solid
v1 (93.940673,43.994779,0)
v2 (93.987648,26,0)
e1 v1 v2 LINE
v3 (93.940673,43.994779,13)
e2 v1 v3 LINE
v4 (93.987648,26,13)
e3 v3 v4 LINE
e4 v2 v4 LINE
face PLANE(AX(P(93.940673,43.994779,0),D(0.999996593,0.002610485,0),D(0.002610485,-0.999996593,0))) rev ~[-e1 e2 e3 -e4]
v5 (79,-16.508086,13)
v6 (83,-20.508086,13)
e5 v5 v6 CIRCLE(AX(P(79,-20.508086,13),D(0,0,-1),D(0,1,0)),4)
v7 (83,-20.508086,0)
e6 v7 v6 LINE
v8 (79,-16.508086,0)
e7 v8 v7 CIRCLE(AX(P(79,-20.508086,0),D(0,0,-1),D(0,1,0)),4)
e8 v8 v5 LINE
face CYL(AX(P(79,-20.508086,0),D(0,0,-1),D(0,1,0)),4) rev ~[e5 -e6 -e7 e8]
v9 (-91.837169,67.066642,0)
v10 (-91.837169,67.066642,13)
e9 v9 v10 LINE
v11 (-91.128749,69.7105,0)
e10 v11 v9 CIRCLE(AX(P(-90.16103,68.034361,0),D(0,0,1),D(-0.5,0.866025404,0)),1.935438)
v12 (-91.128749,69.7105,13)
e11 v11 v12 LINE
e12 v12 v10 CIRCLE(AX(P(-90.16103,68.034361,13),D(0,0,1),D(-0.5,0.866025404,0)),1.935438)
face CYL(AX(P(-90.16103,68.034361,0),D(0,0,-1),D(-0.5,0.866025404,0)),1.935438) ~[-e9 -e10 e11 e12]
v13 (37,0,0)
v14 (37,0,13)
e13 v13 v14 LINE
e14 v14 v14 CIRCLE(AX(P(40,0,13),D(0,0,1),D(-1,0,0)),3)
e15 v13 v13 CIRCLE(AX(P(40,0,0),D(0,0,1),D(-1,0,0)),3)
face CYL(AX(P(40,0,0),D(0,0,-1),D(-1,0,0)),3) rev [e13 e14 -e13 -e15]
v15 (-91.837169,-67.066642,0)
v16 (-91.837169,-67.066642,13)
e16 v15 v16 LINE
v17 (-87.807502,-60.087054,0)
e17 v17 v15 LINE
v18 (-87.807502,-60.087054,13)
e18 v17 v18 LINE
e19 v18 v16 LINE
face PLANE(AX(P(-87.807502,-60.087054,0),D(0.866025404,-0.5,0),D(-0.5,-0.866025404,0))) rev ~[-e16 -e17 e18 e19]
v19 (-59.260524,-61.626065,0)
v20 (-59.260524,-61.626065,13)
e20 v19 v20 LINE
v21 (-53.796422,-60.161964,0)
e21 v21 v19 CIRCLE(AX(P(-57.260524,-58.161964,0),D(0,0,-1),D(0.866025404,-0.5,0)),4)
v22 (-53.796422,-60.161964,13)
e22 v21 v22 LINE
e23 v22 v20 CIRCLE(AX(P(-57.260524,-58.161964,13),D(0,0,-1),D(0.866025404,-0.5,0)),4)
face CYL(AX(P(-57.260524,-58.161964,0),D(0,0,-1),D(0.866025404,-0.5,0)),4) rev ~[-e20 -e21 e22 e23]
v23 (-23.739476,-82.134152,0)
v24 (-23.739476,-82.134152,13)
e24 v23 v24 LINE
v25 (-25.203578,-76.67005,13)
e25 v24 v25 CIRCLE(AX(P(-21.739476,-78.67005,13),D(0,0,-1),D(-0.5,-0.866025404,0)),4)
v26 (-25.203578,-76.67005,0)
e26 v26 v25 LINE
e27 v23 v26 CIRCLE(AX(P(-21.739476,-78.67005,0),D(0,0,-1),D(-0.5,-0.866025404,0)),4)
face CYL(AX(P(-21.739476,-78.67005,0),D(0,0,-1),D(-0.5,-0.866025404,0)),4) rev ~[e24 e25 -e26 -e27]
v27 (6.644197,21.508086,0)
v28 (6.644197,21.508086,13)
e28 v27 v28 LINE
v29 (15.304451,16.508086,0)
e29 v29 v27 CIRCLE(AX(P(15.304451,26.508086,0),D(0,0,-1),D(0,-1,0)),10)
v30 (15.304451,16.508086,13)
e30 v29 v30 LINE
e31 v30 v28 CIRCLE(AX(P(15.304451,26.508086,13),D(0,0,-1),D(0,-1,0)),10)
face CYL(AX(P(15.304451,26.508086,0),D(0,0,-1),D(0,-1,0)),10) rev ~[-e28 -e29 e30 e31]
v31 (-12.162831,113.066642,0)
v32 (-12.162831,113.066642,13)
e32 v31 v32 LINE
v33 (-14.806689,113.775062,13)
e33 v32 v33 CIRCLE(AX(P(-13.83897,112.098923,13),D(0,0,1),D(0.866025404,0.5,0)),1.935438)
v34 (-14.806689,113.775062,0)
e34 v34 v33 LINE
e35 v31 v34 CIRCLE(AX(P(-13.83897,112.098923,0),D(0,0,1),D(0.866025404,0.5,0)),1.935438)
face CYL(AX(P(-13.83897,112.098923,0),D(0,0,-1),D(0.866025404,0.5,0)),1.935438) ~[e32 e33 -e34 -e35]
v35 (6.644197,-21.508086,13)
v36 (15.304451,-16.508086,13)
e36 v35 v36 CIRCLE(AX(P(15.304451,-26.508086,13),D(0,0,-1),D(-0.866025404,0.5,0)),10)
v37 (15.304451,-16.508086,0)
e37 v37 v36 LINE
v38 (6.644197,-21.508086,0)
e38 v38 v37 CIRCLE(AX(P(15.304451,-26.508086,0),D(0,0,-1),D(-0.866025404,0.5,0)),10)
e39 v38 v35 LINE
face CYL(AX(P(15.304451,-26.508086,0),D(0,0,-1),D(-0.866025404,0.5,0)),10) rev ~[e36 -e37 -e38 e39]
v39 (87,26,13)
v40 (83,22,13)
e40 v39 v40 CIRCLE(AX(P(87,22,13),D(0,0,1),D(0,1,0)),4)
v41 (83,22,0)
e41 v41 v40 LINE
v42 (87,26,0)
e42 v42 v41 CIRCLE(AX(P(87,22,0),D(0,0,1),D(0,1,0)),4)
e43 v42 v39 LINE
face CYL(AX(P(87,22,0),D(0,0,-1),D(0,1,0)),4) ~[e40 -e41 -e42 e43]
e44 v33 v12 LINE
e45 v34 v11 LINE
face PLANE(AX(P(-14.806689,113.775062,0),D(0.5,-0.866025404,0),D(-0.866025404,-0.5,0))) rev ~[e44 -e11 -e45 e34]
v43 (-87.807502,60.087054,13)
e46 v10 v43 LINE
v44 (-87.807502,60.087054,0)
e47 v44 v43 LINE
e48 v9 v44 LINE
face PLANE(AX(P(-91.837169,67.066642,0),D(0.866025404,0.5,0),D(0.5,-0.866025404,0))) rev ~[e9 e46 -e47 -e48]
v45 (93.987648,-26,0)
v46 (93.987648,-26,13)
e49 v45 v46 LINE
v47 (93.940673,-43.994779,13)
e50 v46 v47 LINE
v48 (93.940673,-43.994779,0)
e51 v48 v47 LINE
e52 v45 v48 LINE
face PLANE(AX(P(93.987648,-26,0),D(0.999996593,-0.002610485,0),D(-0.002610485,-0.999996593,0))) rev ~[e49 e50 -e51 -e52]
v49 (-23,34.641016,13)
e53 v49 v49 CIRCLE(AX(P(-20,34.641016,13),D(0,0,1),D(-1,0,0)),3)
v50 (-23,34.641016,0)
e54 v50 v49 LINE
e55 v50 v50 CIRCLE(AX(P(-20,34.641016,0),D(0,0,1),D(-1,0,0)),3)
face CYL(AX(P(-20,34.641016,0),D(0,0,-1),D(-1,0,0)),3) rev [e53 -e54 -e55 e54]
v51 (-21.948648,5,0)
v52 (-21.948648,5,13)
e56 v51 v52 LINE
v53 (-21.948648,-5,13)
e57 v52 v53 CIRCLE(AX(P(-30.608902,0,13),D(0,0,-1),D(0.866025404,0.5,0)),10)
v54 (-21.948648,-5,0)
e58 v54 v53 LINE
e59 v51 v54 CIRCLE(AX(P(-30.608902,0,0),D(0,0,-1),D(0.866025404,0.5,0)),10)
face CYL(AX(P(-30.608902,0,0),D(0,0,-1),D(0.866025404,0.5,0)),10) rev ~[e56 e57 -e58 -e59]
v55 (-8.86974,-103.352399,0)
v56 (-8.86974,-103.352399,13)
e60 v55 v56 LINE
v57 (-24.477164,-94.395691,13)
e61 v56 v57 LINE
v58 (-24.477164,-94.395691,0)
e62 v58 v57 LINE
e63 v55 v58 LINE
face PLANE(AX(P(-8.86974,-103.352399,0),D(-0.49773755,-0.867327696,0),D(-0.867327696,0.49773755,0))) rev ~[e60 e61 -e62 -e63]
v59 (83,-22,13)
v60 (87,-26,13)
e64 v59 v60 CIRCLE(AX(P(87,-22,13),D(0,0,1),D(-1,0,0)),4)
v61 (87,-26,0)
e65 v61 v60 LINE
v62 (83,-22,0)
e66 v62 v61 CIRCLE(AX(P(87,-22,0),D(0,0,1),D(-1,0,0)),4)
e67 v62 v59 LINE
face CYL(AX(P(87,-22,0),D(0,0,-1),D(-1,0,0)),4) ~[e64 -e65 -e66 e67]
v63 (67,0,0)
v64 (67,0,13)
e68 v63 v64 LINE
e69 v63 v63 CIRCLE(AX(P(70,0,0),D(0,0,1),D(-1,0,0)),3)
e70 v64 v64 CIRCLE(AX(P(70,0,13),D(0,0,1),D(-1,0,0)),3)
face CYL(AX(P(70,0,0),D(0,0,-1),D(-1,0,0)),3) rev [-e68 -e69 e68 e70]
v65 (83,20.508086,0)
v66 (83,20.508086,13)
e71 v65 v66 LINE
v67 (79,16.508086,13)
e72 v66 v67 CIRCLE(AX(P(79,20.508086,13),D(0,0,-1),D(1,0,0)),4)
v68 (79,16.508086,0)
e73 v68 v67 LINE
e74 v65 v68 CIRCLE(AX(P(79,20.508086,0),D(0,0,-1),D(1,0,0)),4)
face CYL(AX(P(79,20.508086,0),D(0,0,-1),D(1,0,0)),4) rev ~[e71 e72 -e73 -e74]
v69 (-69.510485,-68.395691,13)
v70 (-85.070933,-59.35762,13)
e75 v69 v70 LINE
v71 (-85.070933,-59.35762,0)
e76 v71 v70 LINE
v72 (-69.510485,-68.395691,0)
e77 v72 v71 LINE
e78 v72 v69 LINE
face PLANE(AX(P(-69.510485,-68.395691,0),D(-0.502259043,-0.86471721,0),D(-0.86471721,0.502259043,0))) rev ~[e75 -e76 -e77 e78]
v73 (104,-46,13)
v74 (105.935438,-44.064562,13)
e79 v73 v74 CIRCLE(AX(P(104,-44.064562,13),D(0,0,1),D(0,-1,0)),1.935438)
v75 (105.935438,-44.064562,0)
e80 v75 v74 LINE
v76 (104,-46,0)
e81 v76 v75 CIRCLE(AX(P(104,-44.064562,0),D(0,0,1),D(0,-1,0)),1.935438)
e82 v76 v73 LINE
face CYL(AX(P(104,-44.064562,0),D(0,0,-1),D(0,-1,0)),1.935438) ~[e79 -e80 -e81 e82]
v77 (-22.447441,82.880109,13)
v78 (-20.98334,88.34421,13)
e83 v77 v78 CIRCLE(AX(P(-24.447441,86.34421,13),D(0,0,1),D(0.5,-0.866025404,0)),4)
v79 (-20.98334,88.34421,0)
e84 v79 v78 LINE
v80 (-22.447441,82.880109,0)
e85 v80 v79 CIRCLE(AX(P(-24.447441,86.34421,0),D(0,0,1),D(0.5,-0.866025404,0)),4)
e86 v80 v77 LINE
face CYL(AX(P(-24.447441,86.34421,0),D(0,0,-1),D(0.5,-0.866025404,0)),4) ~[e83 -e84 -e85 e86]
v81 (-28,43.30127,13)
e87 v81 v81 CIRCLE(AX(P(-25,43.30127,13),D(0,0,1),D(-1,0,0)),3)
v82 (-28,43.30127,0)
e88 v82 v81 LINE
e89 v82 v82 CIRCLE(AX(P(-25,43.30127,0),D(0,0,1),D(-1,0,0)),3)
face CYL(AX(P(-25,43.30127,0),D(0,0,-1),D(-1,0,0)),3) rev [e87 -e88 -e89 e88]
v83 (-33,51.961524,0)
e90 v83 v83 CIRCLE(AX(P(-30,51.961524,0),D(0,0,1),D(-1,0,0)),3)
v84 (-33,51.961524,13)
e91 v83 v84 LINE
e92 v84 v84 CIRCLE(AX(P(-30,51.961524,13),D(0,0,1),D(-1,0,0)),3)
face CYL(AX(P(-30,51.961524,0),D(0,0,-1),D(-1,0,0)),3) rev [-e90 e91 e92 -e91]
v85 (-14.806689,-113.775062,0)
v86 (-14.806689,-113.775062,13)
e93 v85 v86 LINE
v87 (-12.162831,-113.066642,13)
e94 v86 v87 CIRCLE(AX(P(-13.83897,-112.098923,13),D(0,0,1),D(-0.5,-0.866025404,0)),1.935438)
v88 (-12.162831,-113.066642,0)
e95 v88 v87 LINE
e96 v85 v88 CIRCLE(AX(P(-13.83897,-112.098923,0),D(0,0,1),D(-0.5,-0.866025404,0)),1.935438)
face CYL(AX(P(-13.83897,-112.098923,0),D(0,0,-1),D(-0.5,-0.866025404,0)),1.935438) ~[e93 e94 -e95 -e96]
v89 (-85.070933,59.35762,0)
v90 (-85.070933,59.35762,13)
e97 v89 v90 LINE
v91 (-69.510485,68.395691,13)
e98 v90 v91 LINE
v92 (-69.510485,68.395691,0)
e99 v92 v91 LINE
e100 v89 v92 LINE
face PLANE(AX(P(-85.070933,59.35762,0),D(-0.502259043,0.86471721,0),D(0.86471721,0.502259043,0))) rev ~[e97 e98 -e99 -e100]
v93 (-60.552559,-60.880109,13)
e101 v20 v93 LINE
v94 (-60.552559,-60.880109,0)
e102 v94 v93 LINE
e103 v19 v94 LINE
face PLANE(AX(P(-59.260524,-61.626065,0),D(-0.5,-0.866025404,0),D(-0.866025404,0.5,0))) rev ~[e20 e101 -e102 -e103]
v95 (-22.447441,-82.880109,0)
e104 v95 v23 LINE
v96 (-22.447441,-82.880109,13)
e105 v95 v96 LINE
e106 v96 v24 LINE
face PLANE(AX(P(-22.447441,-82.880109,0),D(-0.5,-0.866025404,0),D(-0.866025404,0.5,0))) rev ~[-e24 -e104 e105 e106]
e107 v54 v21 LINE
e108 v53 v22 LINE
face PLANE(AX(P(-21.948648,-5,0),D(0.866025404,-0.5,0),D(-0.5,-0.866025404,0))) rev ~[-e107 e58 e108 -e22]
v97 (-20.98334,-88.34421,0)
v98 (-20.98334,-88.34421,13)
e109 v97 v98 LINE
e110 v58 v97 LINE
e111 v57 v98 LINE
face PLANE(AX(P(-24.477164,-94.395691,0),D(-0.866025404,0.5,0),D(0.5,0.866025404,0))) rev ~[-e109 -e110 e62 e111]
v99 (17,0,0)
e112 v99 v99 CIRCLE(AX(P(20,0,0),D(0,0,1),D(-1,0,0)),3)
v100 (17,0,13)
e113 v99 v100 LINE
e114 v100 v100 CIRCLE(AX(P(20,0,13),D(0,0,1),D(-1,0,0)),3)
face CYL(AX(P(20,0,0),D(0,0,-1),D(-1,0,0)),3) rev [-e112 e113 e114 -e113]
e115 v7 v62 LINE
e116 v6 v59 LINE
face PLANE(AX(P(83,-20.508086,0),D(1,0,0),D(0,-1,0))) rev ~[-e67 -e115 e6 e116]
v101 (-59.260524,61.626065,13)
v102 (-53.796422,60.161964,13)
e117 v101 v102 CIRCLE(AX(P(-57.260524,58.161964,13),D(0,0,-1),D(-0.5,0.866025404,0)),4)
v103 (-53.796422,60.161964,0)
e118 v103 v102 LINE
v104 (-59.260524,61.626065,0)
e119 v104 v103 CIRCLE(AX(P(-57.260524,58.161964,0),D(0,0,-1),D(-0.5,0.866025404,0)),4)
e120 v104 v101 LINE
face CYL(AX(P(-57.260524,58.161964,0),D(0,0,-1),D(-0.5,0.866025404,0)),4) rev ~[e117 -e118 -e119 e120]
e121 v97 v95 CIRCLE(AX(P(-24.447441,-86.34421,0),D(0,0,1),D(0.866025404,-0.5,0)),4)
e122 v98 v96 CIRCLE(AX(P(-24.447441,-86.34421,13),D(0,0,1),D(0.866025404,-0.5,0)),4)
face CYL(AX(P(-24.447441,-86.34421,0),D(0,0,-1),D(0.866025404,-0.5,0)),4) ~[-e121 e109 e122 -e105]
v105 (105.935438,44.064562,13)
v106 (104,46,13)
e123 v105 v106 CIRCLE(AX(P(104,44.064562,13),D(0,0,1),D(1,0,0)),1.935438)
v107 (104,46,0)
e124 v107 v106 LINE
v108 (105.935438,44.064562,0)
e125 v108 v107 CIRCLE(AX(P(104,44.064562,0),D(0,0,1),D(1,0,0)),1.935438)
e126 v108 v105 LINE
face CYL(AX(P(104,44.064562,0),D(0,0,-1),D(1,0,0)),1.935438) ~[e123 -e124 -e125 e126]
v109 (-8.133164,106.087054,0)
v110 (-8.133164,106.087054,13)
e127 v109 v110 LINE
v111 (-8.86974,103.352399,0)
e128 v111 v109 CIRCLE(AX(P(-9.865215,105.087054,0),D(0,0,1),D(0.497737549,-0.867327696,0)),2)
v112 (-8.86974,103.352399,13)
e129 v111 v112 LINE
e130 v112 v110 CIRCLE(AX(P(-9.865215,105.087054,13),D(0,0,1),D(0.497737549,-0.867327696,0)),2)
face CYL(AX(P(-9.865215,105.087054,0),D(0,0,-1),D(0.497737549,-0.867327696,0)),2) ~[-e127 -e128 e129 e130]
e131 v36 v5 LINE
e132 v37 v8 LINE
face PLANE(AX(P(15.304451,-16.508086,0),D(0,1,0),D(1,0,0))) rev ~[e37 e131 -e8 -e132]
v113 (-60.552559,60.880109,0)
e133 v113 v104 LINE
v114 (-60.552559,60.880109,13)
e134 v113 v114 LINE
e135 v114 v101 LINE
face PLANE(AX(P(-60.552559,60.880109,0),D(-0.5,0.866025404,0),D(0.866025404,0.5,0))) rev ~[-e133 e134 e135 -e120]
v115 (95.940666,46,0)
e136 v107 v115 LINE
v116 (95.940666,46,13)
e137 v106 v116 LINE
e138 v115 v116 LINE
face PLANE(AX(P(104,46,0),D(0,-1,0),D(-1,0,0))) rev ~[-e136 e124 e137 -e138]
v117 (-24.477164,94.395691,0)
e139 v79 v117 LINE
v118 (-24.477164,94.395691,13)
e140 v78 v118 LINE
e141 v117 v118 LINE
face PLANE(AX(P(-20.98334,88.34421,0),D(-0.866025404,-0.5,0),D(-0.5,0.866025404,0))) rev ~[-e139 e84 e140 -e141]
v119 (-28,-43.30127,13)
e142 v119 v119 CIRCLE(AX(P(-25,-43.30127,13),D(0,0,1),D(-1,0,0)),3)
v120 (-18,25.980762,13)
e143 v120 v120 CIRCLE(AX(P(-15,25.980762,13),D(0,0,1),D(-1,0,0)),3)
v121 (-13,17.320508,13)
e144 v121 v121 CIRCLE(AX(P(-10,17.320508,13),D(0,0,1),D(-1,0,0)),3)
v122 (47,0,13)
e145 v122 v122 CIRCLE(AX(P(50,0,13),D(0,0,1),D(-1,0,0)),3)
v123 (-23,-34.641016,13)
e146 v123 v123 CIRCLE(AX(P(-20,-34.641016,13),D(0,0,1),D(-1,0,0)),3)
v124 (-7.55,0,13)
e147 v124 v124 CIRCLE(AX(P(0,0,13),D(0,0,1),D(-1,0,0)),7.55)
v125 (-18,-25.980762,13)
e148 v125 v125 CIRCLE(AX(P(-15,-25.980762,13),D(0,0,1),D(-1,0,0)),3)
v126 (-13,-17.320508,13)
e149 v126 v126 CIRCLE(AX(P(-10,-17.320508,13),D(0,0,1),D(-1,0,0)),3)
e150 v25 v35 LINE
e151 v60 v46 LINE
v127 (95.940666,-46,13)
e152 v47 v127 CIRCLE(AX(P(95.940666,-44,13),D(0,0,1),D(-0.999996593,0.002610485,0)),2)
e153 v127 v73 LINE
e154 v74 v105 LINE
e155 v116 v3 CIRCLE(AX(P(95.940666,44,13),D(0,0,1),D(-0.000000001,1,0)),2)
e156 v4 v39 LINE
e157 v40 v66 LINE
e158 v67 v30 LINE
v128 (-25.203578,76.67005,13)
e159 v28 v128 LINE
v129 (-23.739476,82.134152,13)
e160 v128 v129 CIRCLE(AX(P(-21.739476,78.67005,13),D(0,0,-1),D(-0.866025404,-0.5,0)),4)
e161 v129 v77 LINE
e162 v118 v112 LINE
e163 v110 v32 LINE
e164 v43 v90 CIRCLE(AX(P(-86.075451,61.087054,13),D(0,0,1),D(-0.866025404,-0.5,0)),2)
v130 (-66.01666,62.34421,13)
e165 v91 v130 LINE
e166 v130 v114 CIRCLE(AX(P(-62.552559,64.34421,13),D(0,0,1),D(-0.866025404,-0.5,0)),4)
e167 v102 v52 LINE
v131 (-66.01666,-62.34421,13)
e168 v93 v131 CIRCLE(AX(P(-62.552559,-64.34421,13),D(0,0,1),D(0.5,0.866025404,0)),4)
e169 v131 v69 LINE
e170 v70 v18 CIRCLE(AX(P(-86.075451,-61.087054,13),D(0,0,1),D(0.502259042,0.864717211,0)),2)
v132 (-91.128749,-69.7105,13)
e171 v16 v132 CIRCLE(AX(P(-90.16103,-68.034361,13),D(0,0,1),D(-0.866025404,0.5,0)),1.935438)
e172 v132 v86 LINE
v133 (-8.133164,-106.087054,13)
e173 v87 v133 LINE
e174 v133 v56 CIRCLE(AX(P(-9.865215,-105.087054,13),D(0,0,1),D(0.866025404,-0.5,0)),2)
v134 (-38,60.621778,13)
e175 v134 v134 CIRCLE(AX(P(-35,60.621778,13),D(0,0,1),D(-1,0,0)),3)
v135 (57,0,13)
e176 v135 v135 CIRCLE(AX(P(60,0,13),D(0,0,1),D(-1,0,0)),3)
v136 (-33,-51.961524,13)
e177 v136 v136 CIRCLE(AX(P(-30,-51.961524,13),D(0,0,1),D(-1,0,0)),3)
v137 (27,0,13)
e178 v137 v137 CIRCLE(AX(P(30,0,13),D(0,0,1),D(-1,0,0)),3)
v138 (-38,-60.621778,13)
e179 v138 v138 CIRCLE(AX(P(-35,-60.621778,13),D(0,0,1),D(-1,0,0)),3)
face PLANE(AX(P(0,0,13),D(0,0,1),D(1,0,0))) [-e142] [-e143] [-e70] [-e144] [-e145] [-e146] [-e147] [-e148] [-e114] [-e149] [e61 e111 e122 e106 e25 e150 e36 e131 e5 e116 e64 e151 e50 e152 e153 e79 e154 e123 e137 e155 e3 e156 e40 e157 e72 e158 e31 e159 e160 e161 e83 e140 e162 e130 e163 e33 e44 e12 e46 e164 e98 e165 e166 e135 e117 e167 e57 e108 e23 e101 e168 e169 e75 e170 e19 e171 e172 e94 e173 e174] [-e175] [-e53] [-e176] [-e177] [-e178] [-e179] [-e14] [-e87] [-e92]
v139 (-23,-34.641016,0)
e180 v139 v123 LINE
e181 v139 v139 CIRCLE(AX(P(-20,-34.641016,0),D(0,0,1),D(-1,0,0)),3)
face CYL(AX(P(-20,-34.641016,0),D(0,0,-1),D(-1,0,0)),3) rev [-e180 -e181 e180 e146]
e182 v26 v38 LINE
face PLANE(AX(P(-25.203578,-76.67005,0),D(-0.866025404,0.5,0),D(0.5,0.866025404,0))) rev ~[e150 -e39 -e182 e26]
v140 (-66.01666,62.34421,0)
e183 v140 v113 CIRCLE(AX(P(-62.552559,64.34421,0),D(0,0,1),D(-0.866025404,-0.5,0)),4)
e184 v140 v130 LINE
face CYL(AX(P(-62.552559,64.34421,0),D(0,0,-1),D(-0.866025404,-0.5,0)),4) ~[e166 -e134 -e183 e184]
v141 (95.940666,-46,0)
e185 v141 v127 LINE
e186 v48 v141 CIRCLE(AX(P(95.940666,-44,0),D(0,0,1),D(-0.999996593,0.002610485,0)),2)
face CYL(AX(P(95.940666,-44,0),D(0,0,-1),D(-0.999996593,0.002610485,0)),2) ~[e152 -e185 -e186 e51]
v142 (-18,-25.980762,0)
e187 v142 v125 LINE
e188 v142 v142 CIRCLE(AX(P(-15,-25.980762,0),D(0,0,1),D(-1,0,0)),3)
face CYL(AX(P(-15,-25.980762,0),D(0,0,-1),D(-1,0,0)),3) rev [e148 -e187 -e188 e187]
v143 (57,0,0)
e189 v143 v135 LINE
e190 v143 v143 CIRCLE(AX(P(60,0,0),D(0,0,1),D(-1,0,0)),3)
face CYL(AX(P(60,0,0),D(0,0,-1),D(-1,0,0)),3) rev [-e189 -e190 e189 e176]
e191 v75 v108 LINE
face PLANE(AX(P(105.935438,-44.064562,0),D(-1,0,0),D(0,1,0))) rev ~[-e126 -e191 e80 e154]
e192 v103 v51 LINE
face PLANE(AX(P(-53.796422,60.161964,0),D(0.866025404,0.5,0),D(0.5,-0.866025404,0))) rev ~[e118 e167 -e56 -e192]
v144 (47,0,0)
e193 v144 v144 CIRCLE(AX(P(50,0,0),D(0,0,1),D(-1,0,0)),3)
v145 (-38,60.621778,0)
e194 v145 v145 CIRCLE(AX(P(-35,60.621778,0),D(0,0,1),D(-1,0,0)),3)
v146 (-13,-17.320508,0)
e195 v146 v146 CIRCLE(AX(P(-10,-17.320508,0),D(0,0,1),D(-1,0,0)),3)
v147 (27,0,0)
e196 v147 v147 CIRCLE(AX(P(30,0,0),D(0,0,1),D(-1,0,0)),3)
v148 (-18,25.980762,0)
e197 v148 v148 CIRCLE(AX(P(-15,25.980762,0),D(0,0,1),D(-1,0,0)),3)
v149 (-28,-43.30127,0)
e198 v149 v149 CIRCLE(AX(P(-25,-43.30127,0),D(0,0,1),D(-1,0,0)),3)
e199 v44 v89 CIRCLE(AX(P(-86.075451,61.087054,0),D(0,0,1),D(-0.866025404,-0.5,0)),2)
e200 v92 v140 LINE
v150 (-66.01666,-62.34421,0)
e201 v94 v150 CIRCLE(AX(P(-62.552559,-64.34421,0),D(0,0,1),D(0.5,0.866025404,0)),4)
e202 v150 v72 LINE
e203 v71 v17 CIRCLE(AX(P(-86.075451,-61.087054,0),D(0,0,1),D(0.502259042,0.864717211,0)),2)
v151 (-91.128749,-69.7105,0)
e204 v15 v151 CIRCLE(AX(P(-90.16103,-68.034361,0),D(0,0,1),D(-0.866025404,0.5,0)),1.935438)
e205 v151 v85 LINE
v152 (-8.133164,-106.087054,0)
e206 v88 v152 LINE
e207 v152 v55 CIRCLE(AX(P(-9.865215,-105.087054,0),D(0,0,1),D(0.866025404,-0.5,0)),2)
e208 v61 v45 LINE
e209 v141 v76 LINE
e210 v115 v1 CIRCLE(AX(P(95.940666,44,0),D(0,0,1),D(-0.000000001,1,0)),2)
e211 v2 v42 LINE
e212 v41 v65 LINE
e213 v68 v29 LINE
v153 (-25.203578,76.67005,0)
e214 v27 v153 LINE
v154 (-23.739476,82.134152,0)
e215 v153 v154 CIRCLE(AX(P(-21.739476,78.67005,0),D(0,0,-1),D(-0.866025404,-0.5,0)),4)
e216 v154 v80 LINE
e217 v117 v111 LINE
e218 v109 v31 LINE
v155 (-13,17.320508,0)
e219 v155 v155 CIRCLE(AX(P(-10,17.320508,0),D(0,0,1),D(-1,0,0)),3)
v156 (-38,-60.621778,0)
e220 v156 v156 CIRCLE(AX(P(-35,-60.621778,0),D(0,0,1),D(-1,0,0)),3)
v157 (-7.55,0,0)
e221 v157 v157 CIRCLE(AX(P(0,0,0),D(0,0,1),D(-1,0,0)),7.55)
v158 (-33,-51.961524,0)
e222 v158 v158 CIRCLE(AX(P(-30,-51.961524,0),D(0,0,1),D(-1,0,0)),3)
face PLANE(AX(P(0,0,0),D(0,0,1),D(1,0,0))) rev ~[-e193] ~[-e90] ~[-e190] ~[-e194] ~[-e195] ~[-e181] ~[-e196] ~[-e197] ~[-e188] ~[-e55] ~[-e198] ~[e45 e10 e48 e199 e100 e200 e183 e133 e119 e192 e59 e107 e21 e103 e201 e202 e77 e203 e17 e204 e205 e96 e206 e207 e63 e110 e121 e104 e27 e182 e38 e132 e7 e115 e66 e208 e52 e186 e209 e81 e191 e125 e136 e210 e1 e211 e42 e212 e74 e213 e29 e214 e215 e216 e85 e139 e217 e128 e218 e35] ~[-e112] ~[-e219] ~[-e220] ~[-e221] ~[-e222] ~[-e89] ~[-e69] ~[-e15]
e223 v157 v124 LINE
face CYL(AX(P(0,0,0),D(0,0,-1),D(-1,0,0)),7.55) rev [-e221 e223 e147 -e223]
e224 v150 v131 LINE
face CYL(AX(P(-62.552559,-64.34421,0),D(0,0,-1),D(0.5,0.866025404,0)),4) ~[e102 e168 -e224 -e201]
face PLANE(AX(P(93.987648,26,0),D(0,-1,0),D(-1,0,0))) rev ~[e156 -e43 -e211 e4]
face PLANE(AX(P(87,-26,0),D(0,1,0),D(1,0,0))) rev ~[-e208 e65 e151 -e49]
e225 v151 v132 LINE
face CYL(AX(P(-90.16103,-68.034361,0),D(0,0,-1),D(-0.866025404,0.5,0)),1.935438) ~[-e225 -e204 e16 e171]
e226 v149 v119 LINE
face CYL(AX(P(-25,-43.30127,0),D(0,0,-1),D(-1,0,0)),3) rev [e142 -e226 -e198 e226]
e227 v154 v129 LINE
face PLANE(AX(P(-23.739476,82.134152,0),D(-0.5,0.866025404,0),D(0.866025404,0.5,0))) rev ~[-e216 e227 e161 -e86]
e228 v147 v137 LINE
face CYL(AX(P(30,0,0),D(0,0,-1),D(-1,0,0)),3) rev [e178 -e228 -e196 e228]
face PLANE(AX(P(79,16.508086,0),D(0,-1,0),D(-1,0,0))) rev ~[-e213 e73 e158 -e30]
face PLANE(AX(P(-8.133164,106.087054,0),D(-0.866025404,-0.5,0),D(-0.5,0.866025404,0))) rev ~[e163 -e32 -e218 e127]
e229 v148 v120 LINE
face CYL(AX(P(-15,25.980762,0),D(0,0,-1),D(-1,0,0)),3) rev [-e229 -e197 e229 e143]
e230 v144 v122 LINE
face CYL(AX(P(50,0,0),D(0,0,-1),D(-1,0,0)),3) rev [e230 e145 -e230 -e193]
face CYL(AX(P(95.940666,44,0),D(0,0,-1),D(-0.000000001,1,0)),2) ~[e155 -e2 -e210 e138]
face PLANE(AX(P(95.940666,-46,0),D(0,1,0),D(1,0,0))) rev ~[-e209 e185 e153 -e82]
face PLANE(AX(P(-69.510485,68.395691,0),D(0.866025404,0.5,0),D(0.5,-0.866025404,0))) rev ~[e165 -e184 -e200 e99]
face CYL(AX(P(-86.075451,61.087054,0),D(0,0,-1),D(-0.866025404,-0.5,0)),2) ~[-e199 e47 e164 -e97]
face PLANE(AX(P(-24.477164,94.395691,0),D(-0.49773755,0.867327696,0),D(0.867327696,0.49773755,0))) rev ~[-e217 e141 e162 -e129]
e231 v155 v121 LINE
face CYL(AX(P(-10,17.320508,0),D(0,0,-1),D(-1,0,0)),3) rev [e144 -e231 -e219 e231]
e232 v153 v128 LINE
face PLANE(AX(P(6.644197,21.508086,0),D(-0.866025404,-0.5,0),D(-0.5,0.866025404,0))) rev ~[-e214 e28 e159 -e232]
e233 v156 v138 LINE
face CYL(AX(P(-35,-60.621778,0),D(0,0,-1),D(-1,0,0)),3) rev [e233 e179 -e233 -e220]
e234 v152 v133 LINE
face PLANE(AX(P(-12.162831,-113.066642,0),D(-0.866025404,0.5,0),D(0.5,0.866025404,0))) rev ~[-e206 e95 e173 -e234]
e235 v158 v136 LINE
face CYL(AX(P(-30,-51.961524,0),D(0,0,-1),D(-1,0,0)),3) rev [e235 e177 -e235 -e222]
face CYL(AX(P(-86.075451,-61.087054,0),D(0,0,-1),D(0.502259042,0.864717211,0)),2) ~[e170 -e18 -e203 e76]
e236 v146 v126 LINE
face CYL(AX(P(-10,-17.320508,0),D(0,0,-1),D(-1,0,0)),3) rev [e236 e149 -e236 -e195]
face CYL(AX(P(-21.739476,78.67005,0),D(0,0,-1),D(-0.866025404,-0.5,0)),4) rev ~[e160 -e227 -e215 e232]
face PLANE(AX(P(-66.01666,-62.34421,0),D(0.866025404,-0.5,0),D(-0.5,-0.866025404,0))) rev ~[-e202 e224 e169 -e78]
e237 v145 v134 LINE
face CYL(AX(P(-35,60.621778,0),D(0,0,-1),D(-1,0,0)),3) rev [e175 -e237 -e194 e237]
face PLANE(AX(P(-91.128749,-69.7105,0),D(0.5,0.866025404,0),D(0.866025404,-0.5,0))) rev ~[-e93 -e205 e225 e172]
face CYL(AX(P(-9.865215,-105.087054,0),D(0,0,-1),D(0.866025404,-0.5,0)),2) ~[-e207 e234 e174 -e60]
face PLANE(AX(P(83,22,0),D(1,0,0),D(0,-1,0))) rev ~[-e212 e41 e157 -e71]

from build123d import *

# Parameters (mm, degrees)
ESQUISSE1_R        = 7.55
ESQUISSE1_R_2      = 3
BOSS_EXTRU_1_DEPTH = 13


with BuildPart() as part:
    # Esquisse1 → Boss.-Extru.1 (new body)
    with BuildSketch(Plane.XY):
        with BuildLine():
            Line((93.987648188, -26), (93.940672922, -43.994779029))
            ThreePointArc((93.940672922, -43.994779029), (94.524607857, -45.412366464), (95.940666108, -46))
            Line((95.940666108, -46), (104, -46))
            ThreePointArc((104, -46), (105.36856155, -45.433123245), (105.935438305, -44.064561695))
            Line((105.935438305, -44.064561695), (105.935438305, 44.064561695))
            ThreePointArc((105.935438305, 44.064561695), (105.36856155, 45.433123245), (104, 46))
            Line((104, 46), (95.940666108, 46))
            ThreePointArc((95.940666108, 46), (94.524607857, 45.412366464), (93.940672922, 43.994779029))
            Line((93.940672922, 43.994779029), (93.987648188, 26))
            Line((93.987648188, 26), (87, 26))
            ThreePointArc((87, 26), (84.171572875, 24.828427125), (83, 22))
            Line((83, 22), (83, 20.508086384))
            ThreePointArc((83, 20.508086384), (81.828427125, 17.679659259), (79, 16.508086384))
            Line((79, 16.508086384), (15.30445081, 16.508086384))
            ThreePointArc((15.30445081, 16.508086384), (10.30445081, 17.847832346), (6.644196772, 21.508086384))
            Line((6.644196772, 21.508086384), (-25.203577824, 76.670050091))
            ThreePointArc((-25.203577824, 76.670050091), (-25.603179514, 79.705326271), (-23.739476208, 82.134151706))
            Line((-23.739476208, 82.134151706), (-22.447441117, 82.880108514))
            ThreePointArc((-22.447441117, 82.880108514), (-20.583737812, 85.308933949), (-20.983339502, 88.344210129))
            Line((-20.983339502, 88.344210129), (-24.477163596, 94.395690973))
            Line((-24.477163596, 94.395690973), (-8.869740188, 103.352398714))
            ThreePointArc((-8.869740188, 103.352398714), (-7.934040924, 104.566894919), (-8.13316448, 106.087054105))
            Line((-8.13316448, 106.087054105), (-12.162831426, 113.066641994))
            ThreePointArc((-12.162831426, 113.066641994), (-13.338041871, 113.968412685), (-14.806689318, 113.775061581))
            Line((-14.806689318, 113.775061581), (-91.128748987, 69.710499885))
            ThreePointArc((-91.128748987, 69.710499885), (-92.030519678, 68.53528944), (-91.837168574, 67.066641994))
            Line((-91.837168574, 67.066641994), (-87.807501628, 60.087054105))
            ThreePointArc((-87.807501628, 60.087054105), (-86.590566932, 59.154528454), (-85.070932735, 59.357619685))
            Line((-85.070932735, 59.357619685), (-69.510484592, 68.395690973))
            Line((-69.510484592, 68.395690973), (-66.016660498, 62.344210129))
            ThreePointArc((-66.016660498, 62.344210129), (-63.587835064, 60.480506824), (-60.552558883, 60.880108514))
            Line((-60.552558883, 60.880108514), (-59.260523792, 61.626065322))
            ThreePointArc((-59.260523792, 61.626065322), (-56.225247611, 62.025667012), (-53.796422176, 60.161963707))
            Line((-53.796422176, 60.161963707), (-21.948647581, 5))
            ThreePointArc((-21.948647581, 5), (-20.608901619, 0), (-21.948647581, -5))
            Line((-21.948647581, -5), (-53.796422176, -60.161963707))
            ThreePointArc((-53.796422176, -60.161963707), (-56.225247611, -62.025667012), (-59.260523792, -61.626065322))
            Line((-59.260523792, -61.626065322), (-60.552558883, -60.880108514))
            ThreePointArc((-60.552558883, -60.880108514), (-63.587835064, -60.480506824), (-66.016660498, -62.344210129))
            Line((-66.016660498, -62.344210129), (-69.510484592, -68.395690973))
            Line((-69.510484592, -68.395690973), (-85.070932735, -59.357619685))
            ThreePointArc((-85.070932735, -59.357619685), (-86.590566932, -59.154528455), (-87.807501628, -60.087054105))
            Line((-87.807501628, -60.087054105), (-91.837168574, -67.066641994))
            ThreePointArc((-91.837168574, -67.066641994), (-92.030519678, -68.53528944), (-91.128748987, -69.710499885))
            Line((-91.128748987, -69.710499885), (-14.806689318, -113.775061581))
            ThreePointArc((-14.806689318, -113.775061581), (-13.338041871, -113.968412685), (-12.162831426, -113.066641994))
            Line((-12.162831426, -113.066641994), (-8.13316448, -106.087054105))
            ThreePointArc((-8.13316448, -106.087054105), (-7.934040924, -104.566894919), (-8.869740188, -103.352398714))
            Line((-8.869740188, -103.352398714), (-24.477163596, -94.395690973))
            Line((-24.477163596, -94.395690973), (-20.983339502, -88.344210129))
            ThreePointArc((-20.983339502, -88.344210129), (-20.583737812, -85.308933949), (-22.447441117, -82.880108514))
            Line((-22.447441117, -82.880108514), (-23.739476208, -82.134151706))
            ThreePointArc((-23.739476208, -82.134151706), (-25.603179514, -79.705326271), (-25.203577824, -76.670050091))
            Line((-25.203577824, -76.670050091), (6.644196772, -21.508086384))
            ThreePointArc((6.644196772, -21.508086384), (10.30445081, -17.847832346), (15.30445081, -16.508086384))
            Line((15.30445081, -16.508086384), (79, -16.508086384))
            ThreePointArc((79, -16.508086384), (81.828427125, -17.679659259), (83, -20.508086384))
            Line((83, -20.508086384), (83, -22))
            ThreePointArc((83, -22), (84.171572875, -24.828427125), (87, -26))
            Line((87, -26), (93.987648188, -26))
        make_face()
        with Locations(Location((0, 0, 0), (0, 0, 180))):
            Circle(ESQUISSE1_R, mode=Mode.SUBTRACT)
        with Locations(Location((20, 0, 0), (0, 0, 180))):
            Circle(ESQUISSE1_R_2, mode=Mode.SUBTRACT)
        with Locations(Location((40, 0, 0), (0, 0, 180))):
            Circle(ESQUISSE1_R_2, mode=Mode.SUBTRACT)
        with Locations(Location((60, 0, 0), (0, 0, 180))):
            Circle(ESQUISSE1_R_2, mode=Mode.SUBTRACT)
        with Locations(Location((70, 0, 0), (0, 0, 180))):
            Circle(ESQUISSE1_R_2, mode=Mode.SUBTRACT)
        with Locations(Location((50, 0, 0), (0, 0, 180))):
            Circle(ESQUISSE1_R_2, mode=Mode.SUBTRACT)
        with Locations(Location((30, 0, 0), (0, 0, 180))):
            Circle(ESQUISSE1_R_2, mode=Mode.SUBTRACT)
        with Locations(Location((-35, -60.621778265, 0), (0, 0, 180))):
            Circle(ESQUISSE1_R_2, mode=Mode.SUBTRACT)
        with Locations(Location((-30, -51.961524227, 0), (0, 0, 180))):
            Circle(ESQUISSE1_R_2, mode=Mode.SUBTRACT)
        with Locations(Location((-25, -43.301270189, 0), (0, 0, 180))):
            Circle(ESQUISSE1_R_2, mode=Mode.SUBTRACT)
        with Locations(Location((-15, -25.980762114, 0), (0, 0, 180))):
            Circle(ESQUISSE1_R_2, mode=Mode.SUBTRACT)
        with Locations(Location((-10, -17.320508076, 0), (0, 0, 180))):
            Circle(ESQUISSE1_R_2, mode=Mode.SUBTRACT)
        with Locations(Location((-20, -34.641016151, 0), (0, 0, 180))):
            Circle(ESQUISSE1_R_2, mode=Mode.SUBTRACT)
        with Locations(Location((-35, 60.621778265, 0), (0, 0, 180))):
            Circle(ESQUISSE1_R_2, mode=Mode.SUBTRACT)
        with Locations(Location((-30, 51.961524227, 0), (0, 0, 180))):
            Circle(ESQUISSE1_R_2, mode=Mode.SUBTRACT)
        with Locations(Location((-25, 43.301270189, 0), (0, 0, 180))):
            Circle(ESQUISSE1_R_2, mode=Mode.SUBTRACT)
        with Locations(Location((-15, 25.980762114, 0), (0, 0, 180))):
            Circle(ESQUISSE1_R_2, mode=Mode.SUBTRACT)
        with Locations(Location((-10, 17.320508076, 0), (0, 0, 180))):
            Circle(ESQUISSE1_R_2, mode=Mode.SUBTRACT)
        with Locations(Location((-20, 34.641016151, 0), (0, 0, 180))):
            Circle(ESQUISSE1_R_2, mode=Mode.SUBTRACT)
    extrude(amount=BOSS_EXTRU_1_DEPTH)


solid = part.part
